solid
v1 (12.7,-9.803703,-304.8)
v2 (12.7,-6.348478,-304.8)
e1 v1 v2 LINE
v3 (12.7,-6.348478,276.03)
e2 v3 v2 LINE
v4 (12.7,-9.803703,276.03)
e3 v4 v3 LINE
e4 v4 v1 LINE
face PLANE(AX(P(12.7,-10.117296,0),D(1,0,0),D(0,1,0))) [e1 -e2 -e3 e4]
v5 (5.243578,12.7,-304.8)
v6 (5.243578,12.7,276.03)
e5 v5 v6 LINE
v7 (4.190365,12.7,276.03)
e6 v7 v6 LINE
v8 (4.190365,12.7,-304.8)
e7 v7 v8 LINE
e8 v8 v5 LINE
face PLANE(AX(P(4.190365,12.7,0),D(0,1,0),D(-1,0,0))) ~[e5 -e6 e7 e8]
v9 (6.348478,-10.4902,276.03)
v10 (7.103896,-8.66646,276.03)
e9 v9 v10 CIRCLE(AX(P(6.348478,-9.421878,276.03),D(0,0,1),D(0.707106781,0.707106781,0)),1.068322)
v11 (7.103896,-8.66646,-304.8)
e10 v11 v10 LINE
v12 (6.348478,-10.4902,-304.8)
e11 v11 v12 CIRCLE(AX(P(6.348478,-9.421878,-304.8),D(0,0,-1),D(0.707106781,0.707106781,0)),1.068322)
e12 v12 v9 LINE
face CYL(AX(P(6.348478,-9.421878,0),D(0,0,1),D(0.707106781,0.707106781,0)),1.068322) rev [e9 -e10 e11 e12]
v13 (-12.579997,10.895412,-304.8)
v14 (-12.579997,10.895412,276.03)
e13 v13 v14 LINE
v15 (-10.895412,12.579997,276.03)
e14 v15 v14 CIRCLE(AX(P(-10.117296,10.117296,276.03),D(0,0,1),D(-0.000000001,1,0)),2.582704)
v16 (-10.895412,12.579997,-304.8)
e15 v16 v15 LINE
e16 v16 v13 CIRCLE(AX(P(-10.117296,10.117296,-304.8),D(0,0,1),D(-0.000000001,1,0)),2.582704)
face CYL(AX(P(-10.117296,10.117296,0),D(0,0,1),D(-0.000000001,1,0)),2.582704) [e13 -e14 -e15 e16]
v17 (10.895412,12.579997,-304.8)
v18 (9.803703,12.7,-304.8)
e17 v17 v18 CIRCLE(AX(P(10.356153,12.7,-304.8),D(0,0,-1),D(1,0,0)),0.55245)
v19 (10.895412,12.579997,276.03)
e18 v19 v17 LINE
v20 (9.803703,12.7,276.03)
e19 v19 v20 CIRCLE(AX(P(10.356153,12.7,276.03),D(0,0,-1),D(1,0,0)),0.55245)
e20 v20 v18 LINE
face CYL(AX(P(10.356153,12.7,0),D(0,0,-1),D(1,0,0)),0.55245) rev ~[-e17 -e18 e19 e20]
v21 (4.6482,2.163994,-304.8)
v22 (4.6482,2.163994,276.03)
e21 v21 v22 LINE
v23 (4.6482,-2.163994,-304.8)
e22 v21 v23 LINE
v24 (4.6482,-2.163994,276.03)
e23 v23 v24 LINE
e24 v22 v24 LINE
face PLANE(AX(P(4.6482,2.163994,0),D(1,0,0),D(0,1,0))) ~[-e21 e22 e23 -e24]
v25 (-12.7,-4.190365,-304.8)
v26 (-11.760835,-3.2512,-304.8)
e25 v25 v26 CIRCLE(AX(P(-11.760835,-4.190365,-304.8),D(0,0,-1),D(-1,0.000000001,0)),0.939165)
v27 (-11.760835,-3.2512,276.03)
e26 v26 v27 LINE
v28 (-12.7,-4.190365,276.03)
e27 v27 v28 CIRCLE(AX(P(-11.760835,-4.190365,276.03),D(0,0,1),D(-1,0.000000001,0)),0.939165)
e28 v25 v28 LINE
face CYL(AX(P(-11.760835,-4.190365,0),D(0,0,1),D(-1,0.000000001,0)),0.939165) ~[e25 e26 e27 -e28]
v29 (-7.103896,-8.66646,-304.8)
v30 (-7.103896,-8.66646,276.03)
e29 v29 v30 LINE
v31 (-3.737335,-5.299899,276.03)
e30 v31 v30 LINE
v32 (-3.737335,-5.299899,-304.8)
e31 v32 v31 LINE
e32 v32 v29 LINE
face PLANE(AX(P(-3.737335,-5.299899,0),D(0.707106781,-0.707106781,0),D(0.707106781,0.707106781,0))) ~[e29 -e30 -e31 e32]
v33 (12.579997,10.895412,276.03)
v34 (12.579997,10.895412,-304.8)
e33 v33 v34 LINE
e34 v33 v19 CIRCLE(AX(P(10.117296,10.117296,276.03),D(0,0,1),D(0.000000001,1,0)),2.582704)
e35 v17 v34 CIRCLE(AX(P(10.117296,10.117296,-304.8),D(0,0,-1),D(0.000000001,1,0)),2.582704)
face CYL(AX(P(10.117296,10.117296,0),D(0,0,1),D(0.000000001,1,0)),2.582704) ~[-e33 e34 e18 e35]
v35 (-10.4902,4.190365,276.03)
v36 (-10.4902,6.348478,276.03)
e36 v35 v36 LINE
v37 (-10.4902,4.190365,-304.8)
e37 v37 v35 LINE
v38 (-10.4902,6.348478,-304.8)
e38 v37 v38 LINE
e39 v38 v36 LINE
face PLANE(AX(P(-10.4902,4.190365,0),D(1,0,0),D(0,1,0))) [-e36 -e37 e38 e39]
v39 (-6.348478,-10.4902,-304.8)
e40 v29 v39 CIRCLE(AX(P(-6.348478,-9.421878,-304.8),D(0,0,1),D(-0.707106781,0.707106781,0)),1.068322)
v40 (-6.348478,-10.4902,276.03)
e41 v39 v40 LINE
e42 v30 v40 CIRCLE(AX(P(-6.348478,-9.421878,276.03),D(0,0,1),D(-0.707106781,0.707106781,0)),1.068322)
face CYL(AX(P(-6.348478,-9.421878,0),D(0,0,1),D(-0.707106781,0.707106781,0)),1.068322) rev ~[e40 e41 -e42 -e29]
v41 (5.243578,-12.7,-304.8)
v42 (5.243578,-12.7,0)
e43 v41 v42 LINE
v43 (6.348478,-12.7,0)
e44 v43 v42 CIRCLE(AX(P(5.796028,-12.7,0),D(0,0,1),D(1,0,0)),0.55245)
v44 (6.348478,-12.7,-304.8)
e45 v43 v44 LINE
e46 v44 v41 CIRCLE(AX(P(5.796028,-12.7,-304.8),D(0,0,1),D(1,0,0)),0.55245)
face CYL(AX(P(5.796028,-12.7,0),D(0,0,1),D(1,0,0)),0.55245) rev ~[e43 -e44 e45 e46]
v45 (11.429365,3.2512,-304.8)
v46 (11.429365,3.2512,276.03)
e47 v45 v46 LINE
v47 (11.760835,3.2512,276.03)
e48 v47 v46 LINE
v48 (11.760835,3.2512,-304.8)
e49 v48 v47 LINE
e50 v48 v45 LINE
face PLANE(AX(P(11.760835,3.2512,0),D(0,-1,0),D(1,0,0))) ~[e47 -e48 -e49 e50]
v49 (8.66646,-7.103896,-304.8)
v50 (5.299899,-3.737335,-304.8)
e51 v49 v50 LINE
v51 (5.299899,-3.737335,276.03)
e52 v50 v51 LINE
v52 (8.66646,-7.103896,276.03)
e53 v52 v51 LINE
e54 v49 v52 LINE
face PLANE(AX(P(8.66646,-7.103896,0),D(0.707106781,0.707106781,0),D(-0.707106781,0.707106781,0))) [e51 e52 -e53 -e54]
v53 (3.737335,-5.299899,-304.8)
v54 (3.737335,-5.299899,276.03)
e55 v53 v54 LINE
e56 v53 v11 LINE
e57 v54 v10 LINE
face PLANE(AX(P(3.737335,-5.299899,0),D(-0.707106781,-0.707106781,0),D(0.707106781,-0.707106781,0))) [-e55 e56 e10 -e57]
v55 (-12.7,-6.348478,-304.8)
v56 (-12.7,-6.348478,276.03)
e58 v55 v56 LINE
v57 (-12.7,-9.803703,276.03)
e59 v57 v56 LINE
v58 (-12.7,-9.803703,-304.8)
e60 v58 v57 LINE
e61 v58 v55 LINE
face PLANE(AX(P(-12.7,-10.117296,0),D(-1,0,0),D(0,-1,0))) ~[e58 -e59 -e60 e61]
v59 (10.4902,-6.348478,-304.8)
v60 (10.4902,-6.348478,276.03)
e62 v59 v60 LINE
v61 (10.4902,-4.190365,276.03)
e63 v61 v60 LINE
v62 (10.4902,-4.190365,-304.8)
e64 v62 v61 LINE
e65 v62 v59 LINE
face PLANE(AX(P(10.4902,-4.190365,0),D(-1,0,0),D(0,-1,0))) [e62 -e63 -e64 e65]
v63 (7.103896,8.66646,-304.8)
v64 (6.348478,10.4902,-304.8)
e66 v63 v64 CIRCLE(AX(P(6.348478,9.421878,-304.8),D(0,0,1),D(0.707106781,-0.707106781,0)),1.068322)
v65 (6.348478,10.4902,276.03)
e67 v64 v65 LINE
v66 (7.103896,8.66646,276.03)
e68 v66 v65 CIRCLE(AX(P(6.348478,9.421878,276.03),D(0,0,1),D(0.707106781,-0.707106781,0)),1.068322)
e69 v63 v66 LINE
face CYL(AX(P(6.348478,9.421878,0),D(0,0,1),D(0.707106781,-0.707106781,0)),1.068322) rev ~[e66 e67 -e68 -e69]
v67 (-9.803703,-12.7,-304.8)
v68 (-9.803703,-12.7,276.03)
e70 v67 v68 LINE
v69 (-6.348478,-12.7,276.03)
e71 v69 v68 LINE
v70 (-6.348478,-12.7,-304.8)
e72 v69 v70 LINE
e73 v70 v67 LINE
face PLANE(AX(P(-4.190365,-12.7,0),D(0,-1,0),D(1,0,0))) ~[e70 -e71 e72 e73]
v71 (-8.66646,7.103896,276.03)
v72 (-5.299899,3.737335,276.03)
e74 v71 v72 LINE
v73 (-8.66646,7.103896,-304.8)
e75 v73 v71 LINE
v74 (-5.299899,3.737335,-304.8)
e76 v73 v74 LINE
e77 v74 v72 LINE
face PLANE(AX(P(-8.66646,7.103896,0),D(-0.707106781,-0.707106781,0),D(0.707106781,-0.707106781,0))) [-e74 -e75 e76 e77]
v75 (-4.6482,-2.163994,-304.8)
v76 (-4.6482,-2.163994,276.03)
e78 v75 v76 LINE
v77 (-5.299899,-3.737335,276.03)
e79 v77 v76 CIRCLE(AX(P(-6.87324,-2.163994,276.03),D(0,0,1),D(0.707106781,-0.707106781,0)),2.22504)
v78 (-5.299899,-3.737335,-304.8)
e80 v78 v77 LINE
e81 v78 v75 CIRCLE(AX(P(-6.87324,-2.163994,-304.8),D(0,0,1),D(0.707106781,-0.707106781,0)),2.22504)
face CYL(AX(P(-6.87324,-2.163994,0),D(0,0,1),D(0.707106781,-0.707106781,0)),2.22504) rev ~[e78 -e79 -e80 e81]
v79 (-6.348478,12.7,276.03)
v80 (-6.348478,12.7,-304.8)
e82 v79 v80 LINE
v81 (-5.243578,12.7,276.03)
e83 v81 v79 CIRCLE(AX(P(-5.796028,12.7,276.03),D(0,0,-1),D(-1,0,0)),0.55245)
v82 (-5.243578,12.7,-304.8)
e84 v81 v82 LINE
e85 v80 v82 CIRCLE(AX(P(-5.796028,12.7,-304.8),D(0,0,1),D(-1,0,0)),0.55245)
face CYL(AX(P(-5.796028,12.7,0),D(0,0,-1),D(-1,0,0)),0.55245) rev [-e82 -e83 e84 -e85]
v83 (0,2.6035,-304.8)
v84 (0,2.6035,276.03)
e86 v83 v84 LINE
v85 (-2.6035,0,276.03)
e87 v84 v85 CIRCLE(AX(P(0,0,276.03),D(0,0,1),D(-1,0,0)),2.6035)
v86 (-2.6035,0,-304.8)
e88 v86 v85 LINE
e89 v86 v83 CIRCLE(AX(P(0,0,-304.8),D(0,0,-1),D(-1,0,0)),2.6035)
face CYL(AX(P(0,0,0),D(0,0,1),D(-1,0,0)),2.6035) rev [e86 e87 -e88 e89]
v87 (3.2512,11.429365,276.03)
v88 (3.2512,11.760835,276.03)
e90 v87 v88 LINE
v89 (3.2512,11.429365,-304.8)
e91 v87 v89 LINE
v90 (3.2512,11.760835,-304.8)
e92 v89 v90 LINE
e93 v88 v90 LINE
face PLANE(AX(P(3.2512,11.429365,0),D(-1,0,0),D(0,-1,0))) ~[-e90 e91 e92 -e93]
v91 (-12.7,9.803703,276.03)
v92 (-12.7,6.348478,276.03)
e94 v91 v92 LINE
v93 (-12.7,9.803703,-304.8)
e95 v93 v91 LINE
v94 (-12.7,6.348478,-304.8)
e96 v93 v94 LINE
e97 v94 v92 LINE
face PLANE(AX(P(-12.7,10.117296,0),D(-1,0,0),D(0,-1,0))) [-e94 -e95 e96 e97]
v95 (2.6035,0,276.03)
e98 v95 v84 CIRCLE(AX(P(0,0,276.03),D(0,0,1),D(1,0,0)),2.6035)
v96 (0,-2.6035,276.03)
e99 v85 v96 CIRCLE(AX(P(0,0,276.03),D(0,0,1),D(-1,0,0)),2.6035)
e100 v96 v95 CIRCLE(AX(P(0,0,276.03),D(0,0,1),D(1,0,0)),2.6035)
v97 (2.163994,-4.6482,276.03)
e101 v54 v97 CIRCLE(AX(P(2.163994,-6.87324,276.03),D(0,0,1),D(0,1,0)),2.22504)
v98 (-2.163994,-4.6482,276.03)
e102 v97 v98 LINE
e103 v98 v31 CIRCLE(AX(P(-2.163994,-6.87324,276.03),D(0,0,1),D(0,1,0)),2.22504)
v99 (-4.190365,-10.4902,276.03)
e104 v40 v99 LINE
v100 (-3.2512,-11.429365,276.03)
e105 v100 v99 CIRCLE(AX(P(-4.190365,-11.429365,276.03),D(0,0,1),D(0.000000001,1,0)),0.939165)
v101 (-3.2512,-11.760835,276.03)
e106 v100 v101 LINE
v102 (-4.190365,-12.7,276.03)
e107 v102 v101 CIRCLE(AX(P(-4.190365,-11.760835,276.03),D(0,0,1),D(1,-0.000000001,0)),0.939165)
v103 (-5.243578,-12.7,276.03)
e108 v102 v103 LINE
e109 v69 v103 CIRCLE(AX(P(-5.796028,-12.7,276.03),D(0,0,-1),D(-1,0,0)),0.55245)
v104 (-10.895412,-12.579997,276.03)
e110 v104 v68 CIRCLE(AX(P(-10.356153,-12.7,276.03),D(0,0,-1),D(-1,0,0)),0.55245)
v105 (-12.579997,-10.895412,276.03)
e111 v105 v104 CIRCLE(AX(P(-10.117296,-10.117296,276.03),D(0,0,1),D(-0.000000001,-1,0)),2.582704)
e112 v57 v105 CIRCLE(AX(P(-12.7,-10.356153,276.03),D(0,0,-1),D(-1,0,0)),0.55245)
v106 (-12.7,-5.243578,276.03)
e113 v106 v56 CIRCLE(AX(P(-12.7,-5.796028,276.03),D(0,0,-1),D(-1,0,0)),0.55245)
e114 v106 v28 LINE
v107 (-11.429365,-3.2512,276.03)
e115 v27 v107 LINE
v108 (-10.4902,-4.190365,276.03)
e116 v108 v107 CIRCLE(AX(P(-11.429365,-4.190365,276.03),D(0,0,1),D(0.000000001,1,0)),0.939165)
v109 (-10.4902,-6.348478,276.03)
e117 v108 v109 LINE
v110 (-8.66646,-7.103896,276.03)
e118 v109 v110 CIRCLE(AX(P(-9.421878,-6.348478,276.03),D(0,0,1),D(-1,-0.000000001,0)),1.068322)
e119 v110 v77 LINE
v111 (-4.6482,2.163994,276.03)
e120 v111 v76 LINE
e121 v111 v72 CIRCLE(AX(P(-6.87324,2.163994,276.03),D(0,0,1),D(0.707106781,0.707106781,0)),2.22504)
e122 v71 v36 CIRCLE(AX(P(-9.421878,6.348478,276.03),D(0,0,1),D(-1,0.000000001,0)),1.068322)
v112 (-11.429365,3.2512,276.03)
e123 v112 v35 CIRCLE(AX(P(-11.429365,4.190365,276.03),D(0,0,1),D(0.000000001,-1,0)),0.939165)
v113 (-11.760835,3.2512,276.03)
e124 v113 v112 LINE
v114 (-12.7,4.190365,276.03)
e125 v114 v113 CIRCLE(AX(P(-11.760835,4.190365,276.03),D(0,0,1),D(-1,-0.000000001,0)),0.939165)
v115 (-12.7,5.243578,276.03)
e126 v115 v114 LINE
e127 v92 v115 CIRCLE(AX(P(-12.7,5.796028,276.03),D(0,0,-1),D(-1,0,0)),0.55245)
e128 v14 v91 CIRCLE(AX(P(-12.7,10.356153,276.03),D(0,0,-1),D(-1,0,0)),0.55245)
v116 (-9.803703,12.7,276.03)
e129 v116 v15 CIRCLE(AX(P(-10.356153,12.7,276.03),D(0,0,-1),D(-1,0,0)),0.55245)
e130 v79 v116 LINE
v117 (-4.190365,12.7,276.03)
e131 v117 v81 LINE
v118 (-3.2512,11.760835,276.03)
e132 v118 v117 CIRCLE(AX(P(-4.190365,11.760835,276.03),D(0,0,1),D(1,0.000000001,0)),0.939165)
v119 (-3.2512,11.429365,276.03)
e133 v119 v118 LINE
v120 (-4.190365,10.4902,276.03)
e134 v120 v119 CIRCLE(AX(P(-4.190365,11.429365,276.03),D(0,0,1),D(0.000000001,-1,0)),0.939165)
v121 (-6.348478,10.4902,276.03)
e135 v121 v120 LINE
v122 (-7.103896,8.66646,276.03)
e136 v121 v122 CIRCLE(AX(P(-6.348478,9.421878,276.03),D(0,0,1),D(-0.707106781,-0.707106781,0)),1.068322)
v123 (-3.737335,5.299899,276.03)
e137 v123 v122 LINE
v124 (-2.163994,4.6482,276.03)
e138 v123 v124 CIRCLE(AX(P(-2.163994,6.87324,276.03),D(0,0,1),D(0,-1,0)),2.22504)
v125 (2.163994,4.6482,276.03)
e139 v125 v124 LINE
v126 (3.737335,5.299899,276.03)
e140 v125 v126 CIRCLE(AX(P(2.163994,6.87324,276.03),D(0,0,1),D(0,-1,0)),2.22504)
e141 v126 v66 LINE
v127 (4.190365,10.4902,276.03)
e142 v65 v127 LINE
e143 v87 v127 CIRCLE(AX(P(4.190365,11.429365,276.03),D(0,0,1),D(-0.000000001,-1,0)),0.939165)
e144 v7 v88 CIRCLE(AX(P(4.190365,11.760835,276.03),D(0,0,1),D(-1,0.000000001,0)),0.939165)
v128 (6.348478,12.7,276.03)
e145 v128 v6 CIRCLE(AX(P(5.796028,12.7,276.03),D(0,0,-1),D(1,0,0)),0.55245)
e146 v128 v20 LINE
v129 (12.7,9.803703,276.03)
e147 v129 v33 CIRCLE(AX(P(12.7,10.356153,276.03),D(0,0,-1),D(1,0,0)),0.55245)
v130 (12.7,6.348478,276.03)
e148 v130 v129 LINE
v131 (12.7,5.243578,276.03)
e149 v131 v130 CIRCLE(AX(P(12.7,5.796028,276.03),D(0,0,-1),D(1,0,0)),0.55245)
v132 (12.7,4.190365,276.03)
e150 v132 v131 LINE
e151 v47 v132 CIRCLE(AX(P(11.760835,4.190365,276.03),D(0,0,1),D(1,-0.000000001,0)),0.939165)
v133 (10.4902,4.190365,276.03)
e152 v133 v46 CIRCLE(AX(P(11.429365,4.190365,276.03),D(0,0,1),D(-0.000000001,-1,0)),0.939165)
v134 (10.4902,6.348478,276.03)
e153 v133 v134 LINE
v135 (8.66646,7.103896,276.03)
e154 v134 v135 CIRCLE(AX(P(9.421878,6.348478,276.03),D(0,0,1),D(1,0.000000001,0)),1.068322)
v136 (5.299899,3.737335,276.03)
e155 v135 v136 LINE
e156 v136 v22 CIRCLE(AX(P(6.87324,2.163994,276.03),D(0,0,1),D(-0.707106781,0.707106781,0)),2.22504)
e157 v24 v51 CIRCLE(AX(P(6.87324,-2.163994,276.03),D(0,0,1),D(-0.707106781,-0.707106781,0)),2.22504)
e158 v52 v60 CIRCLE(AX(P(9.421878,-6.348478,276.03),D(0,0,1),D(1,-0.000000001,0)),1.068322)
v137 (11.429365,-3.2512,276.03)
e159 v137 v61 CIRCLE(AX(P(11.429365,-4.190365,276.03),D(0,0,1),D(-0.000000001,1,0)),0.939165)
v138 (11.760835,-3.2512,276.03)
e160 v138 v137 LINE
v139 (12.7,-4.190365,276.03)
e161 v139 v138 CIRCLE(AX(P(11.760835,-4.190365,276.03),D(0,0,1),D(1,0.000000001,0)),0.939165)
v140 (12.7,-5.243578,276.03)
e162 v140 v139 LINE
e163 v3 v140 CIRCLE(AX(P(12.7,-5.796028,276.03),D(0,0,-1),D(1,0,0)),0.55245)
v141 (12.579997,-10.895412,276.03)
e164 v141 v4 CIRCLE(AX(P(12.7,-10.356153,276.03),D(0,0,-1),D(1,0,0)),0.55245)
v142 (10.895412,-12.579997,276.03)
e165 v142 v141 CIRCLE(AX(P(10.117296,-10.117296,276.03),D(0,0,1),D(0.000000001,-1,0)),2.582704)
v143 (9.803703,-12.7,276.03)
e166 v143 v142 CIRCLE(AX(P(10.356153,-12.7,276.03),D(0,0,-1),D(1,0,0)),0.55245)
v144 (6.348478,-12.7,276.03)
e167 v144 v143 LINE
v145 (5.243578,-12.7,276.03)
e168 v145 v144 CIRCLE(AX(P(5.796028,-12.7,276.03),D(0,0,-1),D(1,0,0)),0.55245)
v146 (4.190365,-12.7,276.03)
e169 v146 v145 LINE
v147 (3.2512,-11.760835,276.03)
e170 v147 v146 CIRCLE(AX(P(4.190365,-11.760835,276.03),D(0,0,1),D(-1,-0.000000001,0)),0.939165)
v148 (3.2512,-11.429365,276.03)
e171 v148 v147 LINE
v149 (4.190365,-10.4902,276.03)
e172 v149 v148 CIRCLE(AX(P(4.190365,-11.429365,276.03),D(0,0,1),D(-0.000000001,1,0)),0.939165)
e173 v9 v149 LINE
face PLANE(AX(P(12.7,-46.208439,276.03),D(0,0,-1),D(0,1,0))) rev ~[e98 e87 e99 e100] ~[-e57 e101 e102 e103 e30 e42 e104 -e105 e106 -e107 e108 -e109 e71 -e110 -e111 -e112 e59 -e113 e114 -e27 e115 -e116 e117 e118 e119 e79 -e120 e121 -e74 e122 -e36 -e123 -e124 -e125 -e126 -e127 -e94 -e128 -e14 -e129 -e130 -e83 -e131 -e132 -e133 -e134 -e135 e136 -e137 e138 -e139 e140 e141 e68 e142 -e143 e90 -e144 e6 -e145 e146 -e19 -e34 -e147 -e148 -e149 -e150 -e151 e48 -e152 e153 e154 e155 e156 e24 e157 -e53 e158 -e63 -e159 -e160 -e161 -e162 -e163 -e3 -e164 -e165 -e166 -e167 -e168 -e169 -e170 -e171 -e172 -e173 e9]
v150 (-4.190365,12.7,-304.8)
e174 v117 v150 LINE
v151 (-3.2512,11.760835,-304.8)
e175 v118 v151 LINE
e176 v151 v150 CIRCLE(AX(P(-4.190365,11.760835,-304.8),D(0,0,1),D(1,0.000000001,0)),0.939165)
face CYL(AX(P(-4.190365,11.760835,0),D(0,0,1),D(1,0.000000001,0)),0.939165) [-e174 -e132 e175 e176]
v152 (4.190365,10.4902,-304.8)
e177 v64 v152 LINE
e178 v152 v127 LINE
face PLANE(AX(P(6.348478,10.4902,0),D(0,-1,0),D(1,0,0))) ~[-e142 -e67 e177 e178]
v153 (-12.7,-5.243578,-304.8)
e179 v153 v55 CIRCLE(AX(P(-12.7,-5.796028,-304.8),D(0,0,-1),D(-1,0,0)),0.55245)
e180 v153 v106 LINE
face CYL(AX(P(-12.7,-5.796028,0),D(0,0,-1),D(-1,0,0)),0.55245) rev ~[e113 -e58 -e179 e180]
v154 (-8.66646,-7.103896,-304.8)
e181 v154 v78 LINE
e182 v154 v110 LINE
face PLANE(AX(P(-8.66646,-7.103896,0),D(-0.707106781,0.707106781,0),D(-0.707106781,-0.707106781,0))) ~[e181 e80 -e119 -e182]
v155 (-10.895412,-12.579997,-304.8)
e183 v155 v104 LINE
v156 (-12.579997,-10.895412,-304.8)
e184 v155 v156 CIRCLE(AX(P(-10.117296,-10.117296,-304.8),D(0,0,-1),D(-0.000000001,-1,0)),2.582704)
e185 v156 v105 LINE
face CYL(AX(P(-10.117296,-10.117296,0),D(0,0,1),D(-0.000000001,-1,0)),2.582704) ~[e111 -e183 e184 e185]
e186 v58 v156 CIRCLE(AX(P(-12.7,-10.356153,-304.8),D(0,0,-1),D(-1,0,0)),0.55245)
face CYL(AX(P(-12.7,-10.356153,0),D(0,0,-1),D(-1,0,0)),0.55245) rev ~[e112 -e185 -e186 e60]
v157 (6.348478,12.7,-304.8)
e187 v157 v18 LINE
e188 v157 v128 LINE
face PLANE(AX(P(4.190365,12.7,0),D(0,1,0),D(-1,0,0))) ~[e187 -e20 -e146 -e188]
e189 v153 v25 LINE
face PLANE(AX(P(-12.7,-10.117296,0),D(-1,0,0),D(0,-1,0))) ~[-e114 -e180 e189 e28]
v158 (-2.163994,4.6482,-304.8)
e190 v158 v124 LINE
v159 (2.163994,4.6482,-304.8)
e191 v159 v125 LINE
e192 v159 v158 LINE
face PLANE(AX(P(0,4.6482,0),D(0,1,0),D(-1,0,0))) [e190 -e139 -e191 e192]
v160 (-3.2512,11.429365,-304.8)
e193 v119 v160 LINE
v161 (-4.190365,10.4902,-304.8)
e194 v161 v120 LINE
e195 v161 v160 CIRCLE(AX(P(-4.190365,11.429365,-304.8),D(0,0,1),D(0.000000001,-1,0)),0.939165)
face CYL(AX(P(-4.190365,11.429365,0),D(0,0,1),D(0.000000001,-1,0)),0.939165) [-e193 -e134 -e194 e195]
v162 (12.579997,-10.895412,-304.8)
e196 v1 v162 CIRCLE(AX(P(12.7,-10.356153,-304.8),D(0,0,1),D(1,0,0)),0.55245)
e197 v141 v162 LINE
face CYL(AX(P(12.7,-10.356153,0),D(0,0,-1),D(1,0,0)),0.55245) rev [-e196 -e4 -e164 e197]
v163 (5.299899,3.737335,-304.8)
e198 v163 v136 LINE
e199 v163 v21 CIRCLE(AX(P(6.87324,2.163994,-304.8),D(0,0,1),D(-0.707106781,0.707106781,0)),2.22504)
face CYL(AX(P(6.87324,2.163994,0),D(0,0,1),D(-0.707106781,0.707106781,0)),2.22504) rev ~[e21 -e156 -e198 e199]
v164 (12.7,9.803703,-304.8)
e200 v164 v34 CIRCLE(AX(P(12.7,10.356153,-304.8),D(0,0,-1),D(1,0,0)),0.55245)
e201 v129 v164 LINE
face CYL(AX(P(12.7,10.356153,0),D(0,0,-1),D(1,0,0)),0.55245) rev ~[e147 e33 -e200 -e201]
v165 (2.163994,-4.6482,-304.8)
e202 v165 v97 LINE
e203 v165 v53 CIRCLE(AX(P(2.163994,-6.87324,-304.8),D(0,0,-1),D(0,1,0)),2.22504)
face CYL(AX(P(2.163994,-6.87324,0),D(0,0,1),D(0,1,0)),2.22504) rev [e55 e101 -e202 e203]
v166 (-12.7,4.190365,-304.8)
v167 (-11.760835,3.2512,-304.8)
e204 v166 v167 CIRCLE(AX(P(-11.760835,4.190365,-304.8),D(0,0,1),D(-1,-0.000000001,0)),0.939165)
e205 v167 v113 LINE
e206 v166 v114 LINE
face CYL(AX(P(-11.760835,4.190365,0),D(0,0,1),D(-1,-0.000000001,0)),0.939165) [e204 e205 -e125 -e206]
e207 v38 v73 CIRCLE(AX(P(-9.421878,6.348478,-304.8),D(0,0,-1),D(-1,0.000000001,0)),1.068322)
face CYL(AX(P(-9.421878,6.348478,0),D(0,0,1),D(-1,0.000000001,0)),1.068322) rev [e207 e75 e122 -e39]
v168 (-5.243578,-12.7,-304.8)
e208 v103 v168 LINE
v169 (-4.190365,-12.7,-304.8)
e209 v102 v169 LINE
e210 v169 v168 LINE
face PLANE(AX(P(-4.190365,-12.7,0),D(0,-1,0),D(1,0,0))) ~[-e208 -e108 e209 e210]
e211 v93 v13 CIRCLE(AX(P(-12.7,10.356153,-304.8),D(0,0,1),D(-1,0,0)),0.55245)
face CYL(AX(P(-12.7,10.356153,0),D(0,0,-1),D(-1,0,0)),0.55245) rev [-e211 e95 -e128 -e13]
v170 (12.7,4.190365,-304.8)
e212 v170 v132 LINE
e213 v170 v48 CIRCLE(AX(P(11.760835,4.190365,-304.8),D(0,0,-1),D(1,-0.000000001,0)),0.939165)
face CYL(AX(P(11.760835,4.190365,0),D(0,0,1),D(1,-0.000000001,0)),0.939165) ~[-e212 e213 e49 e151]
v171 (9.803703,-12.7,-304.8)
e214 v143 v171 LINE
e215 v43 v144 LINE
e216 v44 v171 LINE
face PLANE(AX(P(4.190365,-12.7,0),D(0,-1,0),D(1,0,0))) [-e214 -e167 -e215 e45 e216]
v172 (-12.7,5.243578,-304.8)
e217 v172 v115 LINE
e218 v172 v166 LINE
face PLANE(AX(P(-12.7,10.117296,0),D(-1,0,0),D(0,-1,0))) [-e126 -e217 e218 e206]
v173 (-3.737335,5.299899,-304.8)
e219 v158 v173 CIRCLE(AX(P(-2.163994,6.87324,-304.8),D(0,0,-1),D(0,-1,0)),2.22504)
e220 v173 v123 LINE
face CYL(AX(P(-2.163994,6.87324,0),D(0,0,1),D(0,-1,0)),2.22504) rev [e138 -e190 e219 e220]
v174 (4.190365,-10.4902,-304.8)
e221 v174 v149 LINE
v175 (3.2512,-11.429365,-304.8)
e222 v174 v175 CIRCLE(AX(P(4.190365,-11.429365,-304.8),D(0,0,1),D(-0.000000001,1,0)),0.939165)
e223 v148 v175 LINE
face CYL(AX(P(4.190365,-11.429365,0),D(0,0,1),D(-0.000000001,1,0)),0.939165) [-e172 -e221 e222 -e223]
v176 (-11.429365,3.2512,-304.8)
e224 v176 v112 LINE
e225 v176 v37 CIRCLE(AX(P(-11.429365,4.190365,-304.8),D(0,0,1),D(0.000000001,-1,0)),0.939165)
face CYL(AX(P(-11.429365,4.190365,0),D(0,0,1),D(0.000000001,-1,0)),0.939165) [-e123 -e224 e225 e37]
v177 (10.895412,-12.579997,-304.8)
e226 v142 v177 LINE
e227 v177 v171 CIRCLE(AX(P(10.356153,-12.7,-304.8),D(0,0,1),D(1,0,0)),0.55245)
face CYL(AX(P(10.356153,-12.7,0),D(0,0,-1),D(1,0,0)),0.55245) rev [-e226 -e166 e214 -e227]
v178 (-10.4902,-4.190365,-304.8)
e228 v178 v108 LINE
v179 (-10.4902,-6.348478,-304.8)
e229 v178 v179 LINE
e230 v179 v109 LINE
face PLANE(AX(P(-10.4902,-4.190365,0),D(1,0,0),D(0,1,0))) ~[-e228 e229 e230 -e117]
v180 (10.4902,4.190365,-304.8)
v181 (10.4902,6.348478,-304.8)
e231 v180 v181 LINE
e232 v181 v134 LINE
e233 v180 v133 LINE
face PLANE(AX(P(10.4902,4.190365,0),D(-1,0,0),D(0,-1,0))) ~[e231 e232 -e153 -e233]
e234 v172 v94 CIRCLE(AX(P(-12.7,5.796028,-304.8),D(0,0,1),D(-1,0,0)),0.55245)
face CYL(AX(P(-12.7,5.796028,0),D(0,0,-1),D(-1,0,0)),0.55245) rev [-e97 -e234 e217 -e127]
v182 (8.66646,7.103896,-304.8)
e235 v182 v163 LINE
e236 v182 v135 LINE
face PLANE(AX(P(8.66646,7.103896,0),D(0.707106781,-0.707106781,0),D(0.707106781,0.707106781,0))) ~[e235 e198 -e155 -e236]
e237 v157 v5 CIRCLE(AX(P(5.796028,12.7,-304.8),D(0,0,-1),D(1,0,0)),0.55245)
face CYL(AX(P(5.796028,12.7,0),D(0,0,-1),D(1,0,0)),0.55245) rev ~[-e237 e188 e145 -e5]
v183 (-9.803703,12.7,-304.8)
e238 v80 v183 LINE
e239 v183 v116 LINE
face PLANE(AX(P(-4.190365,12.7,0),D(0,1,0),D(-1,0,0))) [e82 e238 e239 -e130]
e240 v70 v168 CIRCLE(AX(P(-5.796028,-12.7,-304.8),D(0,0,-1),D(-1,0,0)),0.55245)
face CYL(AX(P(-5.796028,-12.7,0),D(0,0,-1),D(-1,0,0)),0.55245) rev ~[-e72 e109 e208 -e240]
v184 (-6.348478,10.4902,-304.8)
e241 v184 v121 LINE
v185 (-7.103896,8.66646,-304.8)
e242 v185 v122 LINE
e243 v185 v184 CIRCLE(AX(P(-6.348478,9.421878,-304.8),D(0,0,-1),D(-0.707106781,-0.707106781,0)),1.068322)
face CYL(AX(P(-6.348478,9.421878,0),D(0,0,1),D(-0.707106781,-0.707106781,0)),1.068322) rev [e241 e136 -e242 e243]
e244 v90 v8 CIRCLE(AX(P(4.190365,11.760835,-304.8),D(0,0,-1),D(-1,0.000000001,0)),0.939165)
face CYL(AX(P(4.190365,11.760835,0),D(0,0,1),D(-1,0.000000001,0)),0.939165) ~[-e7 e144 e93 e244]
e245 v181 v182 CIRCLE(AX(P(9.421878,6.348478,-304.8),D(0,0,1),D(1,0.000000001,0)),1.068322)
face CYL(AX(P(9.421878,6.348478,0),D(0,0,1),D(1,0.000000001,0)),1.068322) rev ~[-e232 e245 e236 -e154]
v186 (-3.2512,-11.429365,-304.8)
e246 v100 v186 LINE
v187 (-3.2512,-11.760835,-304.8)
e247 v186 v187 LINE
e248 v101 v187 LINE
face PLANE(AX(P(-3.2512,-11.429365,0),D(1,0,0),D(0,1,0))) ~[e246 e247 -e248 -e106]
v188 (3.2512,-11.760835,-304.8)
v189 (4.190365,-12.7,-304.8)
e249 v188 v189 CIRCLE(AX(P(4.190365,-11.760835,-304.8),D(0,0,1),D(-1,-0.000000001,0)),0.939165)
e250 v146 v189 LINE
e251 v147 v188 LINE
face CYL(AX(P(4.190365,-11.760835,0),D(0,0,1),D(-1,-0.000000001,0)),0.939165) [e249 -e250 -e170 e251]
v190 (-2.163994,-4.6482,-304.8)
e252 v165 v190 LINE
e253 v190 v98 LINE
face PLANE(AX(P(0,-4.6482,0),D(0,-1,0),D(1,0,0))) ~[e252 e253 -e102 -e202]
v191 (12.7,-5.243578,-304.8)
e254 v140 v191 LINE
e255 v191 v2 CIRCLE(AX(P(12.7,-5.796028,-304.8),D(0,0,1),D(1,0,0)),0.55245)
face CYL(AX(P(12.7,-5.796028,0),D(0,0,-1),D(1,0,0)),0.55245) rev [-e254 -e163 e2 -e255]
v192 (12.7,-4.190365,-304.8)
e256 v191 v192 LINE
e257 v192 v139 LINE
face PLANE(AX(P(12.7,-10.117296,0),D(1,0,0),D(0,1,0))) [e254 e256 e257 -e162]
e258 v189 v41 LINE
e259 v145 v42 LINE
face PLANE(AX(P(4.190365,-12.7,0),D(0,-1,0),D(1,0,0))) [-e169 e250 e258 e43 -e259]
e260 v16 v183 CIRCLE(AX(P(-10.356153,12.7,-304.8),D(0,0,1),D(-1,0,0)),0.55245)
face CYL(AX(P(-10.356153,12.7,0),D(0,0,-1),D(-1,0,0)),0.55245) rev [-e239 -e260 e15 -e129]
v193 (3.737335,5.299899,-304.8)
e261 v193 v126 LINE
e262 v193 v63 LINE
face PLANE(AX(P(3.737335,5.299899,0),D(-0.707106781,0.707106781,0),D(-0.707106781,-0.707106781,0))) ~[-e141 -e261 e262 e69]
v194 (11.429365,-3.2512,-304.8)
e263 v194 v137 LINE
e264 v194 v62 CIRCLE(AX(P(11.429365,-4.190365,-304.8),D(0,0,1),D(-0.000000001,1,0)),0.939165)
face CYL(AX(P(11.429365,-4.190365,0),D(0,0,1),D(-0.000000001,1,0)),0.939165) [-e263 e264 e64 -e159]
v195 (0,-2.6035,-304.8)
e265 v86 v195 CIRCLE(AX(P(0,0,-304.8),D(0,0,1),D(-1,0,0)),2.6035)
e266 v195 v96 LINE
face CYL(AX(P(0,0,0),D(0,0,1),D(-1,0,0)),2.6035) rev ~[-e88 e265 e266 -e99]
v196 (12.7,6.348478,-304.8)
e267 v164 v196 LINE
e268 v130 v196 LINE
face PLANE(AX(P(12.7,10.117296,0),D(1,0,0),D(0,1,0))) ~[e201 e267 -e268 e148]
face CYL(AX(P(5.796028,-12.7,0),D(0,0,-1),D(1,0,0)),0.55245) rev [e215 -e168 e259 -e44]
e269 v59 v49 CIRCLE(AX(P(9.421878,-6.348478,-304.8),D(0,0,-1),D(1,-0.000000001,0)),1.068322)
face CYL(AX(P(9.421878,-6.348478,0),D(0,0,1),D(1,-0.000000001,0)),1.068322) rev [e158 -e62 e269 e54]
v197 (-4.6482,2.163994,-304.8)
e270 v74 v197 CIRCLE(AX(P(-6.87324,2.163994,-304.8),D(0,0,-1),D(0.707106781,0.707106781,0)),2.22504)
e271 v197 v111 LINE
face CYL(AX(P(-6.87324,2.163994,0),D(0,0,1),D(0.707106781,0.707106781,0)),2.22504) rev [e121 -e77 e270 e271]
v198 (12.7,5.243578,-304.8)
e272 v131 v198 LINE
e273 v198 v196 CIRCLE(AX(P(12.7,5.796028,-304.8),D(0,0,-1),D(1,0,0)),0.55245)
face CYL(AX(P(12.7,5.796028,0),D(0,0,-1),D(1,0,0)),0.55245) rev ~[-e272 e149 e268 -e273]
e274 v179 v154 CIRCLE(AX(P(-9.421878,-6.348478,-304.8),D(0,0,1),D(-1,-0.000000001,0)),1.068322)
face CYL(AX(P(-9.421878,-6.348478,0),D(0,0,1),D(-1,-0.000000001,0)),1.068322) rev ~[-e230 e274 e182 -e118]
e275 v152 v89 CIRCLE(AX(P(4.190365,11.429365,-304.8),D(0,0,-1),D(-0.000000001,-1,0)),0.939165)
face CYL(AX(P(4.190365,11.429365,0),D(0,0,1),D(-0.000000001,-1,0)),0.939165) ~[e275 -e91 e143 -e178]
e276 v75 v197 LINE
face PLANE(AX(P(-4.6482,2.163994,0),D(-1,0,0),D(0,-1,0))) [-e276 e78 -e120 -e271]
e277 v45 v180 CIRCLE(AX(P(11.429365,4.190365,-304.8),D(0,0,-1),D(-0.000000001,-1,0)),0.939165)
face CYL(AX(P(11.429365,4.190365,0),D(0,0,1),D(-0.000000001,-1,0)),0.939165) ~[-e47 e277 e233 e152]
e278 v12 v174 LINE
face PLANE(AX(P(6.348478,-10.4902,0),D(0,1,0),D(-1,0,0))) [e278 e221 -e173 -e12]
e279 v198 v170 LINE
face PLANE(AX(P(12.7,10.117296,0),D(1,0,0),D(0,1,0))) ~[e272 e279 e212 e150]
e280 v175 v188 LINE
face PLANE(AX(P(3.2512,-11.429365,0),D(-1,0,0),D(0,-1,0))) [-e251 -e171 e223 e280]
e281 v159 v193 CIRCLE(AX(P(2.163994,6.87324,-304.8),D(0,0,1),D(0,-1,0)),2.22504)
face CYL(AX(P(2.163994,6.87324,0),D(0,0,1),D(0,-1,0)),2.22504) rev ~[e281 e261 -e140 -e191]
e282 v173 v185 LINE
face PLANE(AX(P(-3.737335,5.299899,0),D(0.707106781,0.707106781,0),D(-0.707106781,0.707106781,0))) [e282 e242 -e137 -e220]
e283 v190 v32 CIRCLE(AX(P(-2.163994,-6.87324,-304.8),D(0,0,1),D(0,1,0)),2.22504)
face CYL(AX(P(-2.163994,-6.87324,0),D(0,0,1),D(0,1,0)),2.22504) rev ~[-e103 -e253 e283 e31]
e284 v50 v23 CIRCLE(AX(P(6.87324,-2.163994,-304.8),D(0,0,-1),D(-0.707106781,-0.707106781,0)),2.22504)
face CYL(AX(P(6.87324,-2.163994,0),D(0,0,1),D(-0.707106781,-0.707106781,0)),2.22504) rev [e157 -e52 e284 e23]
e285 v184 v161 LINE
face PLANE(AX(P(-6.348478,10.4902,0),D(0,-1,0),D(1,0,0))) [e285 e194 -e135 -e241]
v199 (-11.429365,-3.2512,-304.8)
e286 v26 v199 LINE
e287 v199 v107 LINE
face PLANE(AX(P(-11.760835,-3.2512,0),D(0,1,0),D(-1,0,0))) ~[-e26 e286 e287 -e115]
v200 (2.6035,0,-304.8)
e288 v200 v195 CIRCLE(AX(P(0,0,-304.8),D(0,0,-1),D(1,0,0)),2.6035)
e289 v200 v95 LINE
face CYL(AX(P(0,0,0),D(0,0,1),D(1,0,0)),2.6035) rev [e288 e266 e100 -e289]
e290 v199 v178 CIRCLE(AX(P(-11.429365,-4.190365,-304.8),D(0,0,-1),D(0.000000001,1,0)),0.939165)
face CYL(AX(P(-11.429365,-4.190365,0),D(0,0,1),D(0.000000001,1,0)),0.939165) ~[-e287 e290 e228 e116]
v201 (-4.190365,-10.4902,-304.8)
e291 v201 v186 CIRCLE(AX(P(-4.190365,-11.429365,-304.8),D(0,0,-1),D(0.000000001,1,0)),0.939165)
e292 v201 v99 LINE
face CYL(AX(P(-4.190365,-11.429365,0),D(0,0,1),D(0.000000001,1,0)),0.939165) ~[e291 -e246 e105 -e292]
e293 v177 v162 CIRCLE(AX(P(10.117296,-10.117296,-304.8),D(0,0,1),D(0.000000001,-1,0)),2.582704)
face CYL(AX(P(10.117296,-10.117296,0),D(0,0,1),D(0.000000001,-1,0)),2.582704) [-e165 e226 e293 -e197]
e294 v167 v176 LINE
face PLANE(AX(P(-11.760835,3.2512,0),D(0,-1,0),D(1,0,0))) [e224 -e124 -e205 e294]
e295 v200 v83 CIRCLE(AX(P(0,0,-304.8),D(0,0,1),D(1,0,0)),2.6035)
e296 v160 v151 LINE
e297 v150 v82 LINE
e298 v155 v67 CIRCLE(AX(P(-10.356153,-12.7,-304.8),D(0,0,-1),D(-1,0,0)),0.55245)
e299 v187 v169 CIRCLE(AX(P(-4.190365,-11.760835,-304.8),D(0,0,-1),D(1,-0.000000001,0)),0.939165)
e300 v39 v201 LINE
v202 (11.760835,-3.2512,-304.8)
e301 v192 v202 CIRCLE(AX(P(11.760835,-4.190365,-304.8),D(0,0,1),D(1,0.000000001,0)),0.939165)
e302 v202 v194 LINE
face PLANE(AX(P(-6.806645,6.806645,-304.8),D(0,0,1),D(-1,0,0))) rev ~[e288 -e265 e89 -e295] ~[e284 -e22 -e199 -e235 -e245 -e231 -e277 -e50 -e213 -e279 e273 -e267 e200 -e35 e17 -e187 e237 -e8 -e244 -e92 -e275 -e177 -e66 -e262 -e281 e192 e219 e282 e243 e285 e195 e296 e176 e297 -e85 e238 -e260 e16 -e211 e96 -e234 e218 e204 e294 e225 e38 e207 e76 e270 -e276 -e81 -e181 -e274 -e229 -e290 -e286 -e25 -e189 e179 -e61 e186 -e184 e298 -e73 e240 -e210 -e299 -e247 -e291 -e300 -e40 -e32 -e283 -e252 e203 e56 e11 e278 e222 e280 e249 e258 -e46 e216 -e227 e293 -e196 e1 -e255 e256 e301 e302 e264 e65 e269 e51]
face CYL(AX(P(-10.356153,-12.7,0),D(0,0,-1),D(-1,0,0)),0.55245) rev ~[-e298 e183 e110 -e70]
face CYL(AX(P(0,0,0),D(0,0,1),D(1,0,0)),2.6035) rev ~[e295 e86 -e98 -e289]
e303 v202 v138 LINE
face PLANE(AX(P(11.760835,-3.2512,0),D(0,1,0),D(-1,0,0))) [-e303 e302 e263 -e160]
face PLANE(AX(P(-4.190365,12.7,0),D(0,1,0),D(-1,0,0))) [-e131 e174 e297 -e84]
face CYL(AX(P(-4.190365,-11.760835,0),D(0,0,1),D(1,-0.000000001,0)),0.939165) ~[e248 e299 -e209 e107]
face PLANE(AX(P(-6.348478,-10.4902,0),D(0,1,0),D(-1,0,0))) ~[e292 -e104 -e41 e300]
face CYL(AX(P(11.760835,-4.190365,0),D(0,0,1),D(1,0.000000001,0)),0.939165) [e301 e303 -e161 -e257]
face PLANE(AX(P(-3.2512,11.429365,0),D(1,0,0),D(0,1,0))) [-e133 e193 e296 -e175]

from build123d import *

# Parameters (mm, degrees)
BOSS_EXTRUDE1_DEPTH     = 304.8
SKETCH5_R               = 0.55245
CUT_EXTRUDE1_DEPTH      = 305.8
CUT_EXTRUDE1_DEPTH_BACK = 305.8
SKETCH6_W               = 28.77
SKETCH6_H               = 75.458782243
CUT_EXTRUDE2_DEPTH      = 60


with BuildPart() as part:
    # Sketch4 → Boss-Extrude1 (new body, symmetric)
    with BuildSketch(Plane.XY):
        with BuildLine():
            Line((4.190365, -12.7), (10.11729625, -12.7))
            ThreePointArc((10.11729625, -12.7), (11.943543585, -11.943543585), (12.7, -10.11729625))
            Line((12.7, -10.11729625), (12.7, -4.190365))
            ThreePointArc((12.7, -4.190365), (12.42492494, -3.52627506), (11.760835, -3.2512))
            Line((11.760835, -3.2512), (11.429365, -3.2512))
            ThreePointArc((11.429365, -3.2512), (10.76527506, -3.52627506), (10.4902, -4.190365))
            Line((10.4902, -4.190365), (10.4902, -6.348478019))
            ThreePointArc((10.4902, -6.348478019), (9.830707141, -7.335478831), (8.666460301, -7.103895736))
            Line((8.666460301, -7.103895736), (5.299899128, -3.737334563))
            ThreePointArc((5.299899128, -3.737334563), (4.817571085, -3.015479634), (4.6482, -2.16399369))
            Line((4.6482, -2.16399369), (4.6482, 0))
            Line((4.6482, 0), (2.6035, 0))
            ThreePointArc((2.6035, 0), (1.840952505, -1.840952505), (0, -2.6035))
            Line((0, -2.6035), (0, -4.6482))
            Line((0, -4.6482), (2.16399369, -4.6482))
            ThreePointArc((2.16399369, -4.6482), (3.015479634, -4.817571085), (3.737334563, -5.299899128))
            Line((3.737334563, -5.299899128), (7.103895736, -8.666460301))
            ThreePointArc((7.103895736, -8.666460301), (7.335478831, -9.830707141), (6.348478019, -10.4902))
            Line((6.348478019, -10.4902), (4.190365, -10.4902))
            ThreePointArc((4.190365, -10.4902), (3.52627506, -10.76527506), (3.2512, -11.429365))
            Line((3.2512, -11.429365), (3.2512, -11.760835))
            ThreePointArc((3.2512, -11.760835), (3.52627506, -12.42492494), (4.190365, -12.7))
        make_face()
    extrude(amount=BOSS_EXTRUDE1_DEPTH, both=True)

    # Sketch5 → Cut-Extrude1 (cut, two sides)
    with BuildSketch(Plane.XY) as cut_extrude1_sk:
        with Locations((10.356153152, -12.7)):
            Circle(SKETCH5_R)
        with Locations((5.796028019, -12.7)):
            Circle(SKETCH5_R)
        with Locations((12.7, -10.356153152)):
            Circle(SKETCH5_R)
        with Locations((12.7, -5.796028019)):
            Circle(SKETCH5_R)
    extrude(amount=CUT_EXTRUDE1_DEPTH, mode=Mode.SUBTRACT)
    extrude(cut_extrude1_sk.sketch, amount=-CUT_EXTRUDE1_DEPTH_BACK, mode=Mode.SUBTRACT)

    # Mirror1: part across plane


with BuildPart() as part_1:
    add(part.part)
    add(part.part.mirror(Plane(origin=(0, 0, 0), x_dir=(0, 0, 1), z_dir=(1, 0, 0))))

    # Mirror2: part across plane


with BuildPart() as part_2:
    add(part_1.part)
    add(part_1.part.mirror(Plane.ZX))

    # Sketch6 → Cut-Extrude2 (cut)
    with BuildSketch(Plane(origin=(12.7, 0, 0), x_dir=(0, 0, -1), z_dir=(1, 0, 0))):
        with Locations((-290.415, -8.479048352)):
            Rectangle(SKETCH6_W, SKETCH6_H)
    extrude(amount=-CUT_EXTRUDE2_DEPTH, mode=Mode.SUBTRACT)


solid = part_2.part
